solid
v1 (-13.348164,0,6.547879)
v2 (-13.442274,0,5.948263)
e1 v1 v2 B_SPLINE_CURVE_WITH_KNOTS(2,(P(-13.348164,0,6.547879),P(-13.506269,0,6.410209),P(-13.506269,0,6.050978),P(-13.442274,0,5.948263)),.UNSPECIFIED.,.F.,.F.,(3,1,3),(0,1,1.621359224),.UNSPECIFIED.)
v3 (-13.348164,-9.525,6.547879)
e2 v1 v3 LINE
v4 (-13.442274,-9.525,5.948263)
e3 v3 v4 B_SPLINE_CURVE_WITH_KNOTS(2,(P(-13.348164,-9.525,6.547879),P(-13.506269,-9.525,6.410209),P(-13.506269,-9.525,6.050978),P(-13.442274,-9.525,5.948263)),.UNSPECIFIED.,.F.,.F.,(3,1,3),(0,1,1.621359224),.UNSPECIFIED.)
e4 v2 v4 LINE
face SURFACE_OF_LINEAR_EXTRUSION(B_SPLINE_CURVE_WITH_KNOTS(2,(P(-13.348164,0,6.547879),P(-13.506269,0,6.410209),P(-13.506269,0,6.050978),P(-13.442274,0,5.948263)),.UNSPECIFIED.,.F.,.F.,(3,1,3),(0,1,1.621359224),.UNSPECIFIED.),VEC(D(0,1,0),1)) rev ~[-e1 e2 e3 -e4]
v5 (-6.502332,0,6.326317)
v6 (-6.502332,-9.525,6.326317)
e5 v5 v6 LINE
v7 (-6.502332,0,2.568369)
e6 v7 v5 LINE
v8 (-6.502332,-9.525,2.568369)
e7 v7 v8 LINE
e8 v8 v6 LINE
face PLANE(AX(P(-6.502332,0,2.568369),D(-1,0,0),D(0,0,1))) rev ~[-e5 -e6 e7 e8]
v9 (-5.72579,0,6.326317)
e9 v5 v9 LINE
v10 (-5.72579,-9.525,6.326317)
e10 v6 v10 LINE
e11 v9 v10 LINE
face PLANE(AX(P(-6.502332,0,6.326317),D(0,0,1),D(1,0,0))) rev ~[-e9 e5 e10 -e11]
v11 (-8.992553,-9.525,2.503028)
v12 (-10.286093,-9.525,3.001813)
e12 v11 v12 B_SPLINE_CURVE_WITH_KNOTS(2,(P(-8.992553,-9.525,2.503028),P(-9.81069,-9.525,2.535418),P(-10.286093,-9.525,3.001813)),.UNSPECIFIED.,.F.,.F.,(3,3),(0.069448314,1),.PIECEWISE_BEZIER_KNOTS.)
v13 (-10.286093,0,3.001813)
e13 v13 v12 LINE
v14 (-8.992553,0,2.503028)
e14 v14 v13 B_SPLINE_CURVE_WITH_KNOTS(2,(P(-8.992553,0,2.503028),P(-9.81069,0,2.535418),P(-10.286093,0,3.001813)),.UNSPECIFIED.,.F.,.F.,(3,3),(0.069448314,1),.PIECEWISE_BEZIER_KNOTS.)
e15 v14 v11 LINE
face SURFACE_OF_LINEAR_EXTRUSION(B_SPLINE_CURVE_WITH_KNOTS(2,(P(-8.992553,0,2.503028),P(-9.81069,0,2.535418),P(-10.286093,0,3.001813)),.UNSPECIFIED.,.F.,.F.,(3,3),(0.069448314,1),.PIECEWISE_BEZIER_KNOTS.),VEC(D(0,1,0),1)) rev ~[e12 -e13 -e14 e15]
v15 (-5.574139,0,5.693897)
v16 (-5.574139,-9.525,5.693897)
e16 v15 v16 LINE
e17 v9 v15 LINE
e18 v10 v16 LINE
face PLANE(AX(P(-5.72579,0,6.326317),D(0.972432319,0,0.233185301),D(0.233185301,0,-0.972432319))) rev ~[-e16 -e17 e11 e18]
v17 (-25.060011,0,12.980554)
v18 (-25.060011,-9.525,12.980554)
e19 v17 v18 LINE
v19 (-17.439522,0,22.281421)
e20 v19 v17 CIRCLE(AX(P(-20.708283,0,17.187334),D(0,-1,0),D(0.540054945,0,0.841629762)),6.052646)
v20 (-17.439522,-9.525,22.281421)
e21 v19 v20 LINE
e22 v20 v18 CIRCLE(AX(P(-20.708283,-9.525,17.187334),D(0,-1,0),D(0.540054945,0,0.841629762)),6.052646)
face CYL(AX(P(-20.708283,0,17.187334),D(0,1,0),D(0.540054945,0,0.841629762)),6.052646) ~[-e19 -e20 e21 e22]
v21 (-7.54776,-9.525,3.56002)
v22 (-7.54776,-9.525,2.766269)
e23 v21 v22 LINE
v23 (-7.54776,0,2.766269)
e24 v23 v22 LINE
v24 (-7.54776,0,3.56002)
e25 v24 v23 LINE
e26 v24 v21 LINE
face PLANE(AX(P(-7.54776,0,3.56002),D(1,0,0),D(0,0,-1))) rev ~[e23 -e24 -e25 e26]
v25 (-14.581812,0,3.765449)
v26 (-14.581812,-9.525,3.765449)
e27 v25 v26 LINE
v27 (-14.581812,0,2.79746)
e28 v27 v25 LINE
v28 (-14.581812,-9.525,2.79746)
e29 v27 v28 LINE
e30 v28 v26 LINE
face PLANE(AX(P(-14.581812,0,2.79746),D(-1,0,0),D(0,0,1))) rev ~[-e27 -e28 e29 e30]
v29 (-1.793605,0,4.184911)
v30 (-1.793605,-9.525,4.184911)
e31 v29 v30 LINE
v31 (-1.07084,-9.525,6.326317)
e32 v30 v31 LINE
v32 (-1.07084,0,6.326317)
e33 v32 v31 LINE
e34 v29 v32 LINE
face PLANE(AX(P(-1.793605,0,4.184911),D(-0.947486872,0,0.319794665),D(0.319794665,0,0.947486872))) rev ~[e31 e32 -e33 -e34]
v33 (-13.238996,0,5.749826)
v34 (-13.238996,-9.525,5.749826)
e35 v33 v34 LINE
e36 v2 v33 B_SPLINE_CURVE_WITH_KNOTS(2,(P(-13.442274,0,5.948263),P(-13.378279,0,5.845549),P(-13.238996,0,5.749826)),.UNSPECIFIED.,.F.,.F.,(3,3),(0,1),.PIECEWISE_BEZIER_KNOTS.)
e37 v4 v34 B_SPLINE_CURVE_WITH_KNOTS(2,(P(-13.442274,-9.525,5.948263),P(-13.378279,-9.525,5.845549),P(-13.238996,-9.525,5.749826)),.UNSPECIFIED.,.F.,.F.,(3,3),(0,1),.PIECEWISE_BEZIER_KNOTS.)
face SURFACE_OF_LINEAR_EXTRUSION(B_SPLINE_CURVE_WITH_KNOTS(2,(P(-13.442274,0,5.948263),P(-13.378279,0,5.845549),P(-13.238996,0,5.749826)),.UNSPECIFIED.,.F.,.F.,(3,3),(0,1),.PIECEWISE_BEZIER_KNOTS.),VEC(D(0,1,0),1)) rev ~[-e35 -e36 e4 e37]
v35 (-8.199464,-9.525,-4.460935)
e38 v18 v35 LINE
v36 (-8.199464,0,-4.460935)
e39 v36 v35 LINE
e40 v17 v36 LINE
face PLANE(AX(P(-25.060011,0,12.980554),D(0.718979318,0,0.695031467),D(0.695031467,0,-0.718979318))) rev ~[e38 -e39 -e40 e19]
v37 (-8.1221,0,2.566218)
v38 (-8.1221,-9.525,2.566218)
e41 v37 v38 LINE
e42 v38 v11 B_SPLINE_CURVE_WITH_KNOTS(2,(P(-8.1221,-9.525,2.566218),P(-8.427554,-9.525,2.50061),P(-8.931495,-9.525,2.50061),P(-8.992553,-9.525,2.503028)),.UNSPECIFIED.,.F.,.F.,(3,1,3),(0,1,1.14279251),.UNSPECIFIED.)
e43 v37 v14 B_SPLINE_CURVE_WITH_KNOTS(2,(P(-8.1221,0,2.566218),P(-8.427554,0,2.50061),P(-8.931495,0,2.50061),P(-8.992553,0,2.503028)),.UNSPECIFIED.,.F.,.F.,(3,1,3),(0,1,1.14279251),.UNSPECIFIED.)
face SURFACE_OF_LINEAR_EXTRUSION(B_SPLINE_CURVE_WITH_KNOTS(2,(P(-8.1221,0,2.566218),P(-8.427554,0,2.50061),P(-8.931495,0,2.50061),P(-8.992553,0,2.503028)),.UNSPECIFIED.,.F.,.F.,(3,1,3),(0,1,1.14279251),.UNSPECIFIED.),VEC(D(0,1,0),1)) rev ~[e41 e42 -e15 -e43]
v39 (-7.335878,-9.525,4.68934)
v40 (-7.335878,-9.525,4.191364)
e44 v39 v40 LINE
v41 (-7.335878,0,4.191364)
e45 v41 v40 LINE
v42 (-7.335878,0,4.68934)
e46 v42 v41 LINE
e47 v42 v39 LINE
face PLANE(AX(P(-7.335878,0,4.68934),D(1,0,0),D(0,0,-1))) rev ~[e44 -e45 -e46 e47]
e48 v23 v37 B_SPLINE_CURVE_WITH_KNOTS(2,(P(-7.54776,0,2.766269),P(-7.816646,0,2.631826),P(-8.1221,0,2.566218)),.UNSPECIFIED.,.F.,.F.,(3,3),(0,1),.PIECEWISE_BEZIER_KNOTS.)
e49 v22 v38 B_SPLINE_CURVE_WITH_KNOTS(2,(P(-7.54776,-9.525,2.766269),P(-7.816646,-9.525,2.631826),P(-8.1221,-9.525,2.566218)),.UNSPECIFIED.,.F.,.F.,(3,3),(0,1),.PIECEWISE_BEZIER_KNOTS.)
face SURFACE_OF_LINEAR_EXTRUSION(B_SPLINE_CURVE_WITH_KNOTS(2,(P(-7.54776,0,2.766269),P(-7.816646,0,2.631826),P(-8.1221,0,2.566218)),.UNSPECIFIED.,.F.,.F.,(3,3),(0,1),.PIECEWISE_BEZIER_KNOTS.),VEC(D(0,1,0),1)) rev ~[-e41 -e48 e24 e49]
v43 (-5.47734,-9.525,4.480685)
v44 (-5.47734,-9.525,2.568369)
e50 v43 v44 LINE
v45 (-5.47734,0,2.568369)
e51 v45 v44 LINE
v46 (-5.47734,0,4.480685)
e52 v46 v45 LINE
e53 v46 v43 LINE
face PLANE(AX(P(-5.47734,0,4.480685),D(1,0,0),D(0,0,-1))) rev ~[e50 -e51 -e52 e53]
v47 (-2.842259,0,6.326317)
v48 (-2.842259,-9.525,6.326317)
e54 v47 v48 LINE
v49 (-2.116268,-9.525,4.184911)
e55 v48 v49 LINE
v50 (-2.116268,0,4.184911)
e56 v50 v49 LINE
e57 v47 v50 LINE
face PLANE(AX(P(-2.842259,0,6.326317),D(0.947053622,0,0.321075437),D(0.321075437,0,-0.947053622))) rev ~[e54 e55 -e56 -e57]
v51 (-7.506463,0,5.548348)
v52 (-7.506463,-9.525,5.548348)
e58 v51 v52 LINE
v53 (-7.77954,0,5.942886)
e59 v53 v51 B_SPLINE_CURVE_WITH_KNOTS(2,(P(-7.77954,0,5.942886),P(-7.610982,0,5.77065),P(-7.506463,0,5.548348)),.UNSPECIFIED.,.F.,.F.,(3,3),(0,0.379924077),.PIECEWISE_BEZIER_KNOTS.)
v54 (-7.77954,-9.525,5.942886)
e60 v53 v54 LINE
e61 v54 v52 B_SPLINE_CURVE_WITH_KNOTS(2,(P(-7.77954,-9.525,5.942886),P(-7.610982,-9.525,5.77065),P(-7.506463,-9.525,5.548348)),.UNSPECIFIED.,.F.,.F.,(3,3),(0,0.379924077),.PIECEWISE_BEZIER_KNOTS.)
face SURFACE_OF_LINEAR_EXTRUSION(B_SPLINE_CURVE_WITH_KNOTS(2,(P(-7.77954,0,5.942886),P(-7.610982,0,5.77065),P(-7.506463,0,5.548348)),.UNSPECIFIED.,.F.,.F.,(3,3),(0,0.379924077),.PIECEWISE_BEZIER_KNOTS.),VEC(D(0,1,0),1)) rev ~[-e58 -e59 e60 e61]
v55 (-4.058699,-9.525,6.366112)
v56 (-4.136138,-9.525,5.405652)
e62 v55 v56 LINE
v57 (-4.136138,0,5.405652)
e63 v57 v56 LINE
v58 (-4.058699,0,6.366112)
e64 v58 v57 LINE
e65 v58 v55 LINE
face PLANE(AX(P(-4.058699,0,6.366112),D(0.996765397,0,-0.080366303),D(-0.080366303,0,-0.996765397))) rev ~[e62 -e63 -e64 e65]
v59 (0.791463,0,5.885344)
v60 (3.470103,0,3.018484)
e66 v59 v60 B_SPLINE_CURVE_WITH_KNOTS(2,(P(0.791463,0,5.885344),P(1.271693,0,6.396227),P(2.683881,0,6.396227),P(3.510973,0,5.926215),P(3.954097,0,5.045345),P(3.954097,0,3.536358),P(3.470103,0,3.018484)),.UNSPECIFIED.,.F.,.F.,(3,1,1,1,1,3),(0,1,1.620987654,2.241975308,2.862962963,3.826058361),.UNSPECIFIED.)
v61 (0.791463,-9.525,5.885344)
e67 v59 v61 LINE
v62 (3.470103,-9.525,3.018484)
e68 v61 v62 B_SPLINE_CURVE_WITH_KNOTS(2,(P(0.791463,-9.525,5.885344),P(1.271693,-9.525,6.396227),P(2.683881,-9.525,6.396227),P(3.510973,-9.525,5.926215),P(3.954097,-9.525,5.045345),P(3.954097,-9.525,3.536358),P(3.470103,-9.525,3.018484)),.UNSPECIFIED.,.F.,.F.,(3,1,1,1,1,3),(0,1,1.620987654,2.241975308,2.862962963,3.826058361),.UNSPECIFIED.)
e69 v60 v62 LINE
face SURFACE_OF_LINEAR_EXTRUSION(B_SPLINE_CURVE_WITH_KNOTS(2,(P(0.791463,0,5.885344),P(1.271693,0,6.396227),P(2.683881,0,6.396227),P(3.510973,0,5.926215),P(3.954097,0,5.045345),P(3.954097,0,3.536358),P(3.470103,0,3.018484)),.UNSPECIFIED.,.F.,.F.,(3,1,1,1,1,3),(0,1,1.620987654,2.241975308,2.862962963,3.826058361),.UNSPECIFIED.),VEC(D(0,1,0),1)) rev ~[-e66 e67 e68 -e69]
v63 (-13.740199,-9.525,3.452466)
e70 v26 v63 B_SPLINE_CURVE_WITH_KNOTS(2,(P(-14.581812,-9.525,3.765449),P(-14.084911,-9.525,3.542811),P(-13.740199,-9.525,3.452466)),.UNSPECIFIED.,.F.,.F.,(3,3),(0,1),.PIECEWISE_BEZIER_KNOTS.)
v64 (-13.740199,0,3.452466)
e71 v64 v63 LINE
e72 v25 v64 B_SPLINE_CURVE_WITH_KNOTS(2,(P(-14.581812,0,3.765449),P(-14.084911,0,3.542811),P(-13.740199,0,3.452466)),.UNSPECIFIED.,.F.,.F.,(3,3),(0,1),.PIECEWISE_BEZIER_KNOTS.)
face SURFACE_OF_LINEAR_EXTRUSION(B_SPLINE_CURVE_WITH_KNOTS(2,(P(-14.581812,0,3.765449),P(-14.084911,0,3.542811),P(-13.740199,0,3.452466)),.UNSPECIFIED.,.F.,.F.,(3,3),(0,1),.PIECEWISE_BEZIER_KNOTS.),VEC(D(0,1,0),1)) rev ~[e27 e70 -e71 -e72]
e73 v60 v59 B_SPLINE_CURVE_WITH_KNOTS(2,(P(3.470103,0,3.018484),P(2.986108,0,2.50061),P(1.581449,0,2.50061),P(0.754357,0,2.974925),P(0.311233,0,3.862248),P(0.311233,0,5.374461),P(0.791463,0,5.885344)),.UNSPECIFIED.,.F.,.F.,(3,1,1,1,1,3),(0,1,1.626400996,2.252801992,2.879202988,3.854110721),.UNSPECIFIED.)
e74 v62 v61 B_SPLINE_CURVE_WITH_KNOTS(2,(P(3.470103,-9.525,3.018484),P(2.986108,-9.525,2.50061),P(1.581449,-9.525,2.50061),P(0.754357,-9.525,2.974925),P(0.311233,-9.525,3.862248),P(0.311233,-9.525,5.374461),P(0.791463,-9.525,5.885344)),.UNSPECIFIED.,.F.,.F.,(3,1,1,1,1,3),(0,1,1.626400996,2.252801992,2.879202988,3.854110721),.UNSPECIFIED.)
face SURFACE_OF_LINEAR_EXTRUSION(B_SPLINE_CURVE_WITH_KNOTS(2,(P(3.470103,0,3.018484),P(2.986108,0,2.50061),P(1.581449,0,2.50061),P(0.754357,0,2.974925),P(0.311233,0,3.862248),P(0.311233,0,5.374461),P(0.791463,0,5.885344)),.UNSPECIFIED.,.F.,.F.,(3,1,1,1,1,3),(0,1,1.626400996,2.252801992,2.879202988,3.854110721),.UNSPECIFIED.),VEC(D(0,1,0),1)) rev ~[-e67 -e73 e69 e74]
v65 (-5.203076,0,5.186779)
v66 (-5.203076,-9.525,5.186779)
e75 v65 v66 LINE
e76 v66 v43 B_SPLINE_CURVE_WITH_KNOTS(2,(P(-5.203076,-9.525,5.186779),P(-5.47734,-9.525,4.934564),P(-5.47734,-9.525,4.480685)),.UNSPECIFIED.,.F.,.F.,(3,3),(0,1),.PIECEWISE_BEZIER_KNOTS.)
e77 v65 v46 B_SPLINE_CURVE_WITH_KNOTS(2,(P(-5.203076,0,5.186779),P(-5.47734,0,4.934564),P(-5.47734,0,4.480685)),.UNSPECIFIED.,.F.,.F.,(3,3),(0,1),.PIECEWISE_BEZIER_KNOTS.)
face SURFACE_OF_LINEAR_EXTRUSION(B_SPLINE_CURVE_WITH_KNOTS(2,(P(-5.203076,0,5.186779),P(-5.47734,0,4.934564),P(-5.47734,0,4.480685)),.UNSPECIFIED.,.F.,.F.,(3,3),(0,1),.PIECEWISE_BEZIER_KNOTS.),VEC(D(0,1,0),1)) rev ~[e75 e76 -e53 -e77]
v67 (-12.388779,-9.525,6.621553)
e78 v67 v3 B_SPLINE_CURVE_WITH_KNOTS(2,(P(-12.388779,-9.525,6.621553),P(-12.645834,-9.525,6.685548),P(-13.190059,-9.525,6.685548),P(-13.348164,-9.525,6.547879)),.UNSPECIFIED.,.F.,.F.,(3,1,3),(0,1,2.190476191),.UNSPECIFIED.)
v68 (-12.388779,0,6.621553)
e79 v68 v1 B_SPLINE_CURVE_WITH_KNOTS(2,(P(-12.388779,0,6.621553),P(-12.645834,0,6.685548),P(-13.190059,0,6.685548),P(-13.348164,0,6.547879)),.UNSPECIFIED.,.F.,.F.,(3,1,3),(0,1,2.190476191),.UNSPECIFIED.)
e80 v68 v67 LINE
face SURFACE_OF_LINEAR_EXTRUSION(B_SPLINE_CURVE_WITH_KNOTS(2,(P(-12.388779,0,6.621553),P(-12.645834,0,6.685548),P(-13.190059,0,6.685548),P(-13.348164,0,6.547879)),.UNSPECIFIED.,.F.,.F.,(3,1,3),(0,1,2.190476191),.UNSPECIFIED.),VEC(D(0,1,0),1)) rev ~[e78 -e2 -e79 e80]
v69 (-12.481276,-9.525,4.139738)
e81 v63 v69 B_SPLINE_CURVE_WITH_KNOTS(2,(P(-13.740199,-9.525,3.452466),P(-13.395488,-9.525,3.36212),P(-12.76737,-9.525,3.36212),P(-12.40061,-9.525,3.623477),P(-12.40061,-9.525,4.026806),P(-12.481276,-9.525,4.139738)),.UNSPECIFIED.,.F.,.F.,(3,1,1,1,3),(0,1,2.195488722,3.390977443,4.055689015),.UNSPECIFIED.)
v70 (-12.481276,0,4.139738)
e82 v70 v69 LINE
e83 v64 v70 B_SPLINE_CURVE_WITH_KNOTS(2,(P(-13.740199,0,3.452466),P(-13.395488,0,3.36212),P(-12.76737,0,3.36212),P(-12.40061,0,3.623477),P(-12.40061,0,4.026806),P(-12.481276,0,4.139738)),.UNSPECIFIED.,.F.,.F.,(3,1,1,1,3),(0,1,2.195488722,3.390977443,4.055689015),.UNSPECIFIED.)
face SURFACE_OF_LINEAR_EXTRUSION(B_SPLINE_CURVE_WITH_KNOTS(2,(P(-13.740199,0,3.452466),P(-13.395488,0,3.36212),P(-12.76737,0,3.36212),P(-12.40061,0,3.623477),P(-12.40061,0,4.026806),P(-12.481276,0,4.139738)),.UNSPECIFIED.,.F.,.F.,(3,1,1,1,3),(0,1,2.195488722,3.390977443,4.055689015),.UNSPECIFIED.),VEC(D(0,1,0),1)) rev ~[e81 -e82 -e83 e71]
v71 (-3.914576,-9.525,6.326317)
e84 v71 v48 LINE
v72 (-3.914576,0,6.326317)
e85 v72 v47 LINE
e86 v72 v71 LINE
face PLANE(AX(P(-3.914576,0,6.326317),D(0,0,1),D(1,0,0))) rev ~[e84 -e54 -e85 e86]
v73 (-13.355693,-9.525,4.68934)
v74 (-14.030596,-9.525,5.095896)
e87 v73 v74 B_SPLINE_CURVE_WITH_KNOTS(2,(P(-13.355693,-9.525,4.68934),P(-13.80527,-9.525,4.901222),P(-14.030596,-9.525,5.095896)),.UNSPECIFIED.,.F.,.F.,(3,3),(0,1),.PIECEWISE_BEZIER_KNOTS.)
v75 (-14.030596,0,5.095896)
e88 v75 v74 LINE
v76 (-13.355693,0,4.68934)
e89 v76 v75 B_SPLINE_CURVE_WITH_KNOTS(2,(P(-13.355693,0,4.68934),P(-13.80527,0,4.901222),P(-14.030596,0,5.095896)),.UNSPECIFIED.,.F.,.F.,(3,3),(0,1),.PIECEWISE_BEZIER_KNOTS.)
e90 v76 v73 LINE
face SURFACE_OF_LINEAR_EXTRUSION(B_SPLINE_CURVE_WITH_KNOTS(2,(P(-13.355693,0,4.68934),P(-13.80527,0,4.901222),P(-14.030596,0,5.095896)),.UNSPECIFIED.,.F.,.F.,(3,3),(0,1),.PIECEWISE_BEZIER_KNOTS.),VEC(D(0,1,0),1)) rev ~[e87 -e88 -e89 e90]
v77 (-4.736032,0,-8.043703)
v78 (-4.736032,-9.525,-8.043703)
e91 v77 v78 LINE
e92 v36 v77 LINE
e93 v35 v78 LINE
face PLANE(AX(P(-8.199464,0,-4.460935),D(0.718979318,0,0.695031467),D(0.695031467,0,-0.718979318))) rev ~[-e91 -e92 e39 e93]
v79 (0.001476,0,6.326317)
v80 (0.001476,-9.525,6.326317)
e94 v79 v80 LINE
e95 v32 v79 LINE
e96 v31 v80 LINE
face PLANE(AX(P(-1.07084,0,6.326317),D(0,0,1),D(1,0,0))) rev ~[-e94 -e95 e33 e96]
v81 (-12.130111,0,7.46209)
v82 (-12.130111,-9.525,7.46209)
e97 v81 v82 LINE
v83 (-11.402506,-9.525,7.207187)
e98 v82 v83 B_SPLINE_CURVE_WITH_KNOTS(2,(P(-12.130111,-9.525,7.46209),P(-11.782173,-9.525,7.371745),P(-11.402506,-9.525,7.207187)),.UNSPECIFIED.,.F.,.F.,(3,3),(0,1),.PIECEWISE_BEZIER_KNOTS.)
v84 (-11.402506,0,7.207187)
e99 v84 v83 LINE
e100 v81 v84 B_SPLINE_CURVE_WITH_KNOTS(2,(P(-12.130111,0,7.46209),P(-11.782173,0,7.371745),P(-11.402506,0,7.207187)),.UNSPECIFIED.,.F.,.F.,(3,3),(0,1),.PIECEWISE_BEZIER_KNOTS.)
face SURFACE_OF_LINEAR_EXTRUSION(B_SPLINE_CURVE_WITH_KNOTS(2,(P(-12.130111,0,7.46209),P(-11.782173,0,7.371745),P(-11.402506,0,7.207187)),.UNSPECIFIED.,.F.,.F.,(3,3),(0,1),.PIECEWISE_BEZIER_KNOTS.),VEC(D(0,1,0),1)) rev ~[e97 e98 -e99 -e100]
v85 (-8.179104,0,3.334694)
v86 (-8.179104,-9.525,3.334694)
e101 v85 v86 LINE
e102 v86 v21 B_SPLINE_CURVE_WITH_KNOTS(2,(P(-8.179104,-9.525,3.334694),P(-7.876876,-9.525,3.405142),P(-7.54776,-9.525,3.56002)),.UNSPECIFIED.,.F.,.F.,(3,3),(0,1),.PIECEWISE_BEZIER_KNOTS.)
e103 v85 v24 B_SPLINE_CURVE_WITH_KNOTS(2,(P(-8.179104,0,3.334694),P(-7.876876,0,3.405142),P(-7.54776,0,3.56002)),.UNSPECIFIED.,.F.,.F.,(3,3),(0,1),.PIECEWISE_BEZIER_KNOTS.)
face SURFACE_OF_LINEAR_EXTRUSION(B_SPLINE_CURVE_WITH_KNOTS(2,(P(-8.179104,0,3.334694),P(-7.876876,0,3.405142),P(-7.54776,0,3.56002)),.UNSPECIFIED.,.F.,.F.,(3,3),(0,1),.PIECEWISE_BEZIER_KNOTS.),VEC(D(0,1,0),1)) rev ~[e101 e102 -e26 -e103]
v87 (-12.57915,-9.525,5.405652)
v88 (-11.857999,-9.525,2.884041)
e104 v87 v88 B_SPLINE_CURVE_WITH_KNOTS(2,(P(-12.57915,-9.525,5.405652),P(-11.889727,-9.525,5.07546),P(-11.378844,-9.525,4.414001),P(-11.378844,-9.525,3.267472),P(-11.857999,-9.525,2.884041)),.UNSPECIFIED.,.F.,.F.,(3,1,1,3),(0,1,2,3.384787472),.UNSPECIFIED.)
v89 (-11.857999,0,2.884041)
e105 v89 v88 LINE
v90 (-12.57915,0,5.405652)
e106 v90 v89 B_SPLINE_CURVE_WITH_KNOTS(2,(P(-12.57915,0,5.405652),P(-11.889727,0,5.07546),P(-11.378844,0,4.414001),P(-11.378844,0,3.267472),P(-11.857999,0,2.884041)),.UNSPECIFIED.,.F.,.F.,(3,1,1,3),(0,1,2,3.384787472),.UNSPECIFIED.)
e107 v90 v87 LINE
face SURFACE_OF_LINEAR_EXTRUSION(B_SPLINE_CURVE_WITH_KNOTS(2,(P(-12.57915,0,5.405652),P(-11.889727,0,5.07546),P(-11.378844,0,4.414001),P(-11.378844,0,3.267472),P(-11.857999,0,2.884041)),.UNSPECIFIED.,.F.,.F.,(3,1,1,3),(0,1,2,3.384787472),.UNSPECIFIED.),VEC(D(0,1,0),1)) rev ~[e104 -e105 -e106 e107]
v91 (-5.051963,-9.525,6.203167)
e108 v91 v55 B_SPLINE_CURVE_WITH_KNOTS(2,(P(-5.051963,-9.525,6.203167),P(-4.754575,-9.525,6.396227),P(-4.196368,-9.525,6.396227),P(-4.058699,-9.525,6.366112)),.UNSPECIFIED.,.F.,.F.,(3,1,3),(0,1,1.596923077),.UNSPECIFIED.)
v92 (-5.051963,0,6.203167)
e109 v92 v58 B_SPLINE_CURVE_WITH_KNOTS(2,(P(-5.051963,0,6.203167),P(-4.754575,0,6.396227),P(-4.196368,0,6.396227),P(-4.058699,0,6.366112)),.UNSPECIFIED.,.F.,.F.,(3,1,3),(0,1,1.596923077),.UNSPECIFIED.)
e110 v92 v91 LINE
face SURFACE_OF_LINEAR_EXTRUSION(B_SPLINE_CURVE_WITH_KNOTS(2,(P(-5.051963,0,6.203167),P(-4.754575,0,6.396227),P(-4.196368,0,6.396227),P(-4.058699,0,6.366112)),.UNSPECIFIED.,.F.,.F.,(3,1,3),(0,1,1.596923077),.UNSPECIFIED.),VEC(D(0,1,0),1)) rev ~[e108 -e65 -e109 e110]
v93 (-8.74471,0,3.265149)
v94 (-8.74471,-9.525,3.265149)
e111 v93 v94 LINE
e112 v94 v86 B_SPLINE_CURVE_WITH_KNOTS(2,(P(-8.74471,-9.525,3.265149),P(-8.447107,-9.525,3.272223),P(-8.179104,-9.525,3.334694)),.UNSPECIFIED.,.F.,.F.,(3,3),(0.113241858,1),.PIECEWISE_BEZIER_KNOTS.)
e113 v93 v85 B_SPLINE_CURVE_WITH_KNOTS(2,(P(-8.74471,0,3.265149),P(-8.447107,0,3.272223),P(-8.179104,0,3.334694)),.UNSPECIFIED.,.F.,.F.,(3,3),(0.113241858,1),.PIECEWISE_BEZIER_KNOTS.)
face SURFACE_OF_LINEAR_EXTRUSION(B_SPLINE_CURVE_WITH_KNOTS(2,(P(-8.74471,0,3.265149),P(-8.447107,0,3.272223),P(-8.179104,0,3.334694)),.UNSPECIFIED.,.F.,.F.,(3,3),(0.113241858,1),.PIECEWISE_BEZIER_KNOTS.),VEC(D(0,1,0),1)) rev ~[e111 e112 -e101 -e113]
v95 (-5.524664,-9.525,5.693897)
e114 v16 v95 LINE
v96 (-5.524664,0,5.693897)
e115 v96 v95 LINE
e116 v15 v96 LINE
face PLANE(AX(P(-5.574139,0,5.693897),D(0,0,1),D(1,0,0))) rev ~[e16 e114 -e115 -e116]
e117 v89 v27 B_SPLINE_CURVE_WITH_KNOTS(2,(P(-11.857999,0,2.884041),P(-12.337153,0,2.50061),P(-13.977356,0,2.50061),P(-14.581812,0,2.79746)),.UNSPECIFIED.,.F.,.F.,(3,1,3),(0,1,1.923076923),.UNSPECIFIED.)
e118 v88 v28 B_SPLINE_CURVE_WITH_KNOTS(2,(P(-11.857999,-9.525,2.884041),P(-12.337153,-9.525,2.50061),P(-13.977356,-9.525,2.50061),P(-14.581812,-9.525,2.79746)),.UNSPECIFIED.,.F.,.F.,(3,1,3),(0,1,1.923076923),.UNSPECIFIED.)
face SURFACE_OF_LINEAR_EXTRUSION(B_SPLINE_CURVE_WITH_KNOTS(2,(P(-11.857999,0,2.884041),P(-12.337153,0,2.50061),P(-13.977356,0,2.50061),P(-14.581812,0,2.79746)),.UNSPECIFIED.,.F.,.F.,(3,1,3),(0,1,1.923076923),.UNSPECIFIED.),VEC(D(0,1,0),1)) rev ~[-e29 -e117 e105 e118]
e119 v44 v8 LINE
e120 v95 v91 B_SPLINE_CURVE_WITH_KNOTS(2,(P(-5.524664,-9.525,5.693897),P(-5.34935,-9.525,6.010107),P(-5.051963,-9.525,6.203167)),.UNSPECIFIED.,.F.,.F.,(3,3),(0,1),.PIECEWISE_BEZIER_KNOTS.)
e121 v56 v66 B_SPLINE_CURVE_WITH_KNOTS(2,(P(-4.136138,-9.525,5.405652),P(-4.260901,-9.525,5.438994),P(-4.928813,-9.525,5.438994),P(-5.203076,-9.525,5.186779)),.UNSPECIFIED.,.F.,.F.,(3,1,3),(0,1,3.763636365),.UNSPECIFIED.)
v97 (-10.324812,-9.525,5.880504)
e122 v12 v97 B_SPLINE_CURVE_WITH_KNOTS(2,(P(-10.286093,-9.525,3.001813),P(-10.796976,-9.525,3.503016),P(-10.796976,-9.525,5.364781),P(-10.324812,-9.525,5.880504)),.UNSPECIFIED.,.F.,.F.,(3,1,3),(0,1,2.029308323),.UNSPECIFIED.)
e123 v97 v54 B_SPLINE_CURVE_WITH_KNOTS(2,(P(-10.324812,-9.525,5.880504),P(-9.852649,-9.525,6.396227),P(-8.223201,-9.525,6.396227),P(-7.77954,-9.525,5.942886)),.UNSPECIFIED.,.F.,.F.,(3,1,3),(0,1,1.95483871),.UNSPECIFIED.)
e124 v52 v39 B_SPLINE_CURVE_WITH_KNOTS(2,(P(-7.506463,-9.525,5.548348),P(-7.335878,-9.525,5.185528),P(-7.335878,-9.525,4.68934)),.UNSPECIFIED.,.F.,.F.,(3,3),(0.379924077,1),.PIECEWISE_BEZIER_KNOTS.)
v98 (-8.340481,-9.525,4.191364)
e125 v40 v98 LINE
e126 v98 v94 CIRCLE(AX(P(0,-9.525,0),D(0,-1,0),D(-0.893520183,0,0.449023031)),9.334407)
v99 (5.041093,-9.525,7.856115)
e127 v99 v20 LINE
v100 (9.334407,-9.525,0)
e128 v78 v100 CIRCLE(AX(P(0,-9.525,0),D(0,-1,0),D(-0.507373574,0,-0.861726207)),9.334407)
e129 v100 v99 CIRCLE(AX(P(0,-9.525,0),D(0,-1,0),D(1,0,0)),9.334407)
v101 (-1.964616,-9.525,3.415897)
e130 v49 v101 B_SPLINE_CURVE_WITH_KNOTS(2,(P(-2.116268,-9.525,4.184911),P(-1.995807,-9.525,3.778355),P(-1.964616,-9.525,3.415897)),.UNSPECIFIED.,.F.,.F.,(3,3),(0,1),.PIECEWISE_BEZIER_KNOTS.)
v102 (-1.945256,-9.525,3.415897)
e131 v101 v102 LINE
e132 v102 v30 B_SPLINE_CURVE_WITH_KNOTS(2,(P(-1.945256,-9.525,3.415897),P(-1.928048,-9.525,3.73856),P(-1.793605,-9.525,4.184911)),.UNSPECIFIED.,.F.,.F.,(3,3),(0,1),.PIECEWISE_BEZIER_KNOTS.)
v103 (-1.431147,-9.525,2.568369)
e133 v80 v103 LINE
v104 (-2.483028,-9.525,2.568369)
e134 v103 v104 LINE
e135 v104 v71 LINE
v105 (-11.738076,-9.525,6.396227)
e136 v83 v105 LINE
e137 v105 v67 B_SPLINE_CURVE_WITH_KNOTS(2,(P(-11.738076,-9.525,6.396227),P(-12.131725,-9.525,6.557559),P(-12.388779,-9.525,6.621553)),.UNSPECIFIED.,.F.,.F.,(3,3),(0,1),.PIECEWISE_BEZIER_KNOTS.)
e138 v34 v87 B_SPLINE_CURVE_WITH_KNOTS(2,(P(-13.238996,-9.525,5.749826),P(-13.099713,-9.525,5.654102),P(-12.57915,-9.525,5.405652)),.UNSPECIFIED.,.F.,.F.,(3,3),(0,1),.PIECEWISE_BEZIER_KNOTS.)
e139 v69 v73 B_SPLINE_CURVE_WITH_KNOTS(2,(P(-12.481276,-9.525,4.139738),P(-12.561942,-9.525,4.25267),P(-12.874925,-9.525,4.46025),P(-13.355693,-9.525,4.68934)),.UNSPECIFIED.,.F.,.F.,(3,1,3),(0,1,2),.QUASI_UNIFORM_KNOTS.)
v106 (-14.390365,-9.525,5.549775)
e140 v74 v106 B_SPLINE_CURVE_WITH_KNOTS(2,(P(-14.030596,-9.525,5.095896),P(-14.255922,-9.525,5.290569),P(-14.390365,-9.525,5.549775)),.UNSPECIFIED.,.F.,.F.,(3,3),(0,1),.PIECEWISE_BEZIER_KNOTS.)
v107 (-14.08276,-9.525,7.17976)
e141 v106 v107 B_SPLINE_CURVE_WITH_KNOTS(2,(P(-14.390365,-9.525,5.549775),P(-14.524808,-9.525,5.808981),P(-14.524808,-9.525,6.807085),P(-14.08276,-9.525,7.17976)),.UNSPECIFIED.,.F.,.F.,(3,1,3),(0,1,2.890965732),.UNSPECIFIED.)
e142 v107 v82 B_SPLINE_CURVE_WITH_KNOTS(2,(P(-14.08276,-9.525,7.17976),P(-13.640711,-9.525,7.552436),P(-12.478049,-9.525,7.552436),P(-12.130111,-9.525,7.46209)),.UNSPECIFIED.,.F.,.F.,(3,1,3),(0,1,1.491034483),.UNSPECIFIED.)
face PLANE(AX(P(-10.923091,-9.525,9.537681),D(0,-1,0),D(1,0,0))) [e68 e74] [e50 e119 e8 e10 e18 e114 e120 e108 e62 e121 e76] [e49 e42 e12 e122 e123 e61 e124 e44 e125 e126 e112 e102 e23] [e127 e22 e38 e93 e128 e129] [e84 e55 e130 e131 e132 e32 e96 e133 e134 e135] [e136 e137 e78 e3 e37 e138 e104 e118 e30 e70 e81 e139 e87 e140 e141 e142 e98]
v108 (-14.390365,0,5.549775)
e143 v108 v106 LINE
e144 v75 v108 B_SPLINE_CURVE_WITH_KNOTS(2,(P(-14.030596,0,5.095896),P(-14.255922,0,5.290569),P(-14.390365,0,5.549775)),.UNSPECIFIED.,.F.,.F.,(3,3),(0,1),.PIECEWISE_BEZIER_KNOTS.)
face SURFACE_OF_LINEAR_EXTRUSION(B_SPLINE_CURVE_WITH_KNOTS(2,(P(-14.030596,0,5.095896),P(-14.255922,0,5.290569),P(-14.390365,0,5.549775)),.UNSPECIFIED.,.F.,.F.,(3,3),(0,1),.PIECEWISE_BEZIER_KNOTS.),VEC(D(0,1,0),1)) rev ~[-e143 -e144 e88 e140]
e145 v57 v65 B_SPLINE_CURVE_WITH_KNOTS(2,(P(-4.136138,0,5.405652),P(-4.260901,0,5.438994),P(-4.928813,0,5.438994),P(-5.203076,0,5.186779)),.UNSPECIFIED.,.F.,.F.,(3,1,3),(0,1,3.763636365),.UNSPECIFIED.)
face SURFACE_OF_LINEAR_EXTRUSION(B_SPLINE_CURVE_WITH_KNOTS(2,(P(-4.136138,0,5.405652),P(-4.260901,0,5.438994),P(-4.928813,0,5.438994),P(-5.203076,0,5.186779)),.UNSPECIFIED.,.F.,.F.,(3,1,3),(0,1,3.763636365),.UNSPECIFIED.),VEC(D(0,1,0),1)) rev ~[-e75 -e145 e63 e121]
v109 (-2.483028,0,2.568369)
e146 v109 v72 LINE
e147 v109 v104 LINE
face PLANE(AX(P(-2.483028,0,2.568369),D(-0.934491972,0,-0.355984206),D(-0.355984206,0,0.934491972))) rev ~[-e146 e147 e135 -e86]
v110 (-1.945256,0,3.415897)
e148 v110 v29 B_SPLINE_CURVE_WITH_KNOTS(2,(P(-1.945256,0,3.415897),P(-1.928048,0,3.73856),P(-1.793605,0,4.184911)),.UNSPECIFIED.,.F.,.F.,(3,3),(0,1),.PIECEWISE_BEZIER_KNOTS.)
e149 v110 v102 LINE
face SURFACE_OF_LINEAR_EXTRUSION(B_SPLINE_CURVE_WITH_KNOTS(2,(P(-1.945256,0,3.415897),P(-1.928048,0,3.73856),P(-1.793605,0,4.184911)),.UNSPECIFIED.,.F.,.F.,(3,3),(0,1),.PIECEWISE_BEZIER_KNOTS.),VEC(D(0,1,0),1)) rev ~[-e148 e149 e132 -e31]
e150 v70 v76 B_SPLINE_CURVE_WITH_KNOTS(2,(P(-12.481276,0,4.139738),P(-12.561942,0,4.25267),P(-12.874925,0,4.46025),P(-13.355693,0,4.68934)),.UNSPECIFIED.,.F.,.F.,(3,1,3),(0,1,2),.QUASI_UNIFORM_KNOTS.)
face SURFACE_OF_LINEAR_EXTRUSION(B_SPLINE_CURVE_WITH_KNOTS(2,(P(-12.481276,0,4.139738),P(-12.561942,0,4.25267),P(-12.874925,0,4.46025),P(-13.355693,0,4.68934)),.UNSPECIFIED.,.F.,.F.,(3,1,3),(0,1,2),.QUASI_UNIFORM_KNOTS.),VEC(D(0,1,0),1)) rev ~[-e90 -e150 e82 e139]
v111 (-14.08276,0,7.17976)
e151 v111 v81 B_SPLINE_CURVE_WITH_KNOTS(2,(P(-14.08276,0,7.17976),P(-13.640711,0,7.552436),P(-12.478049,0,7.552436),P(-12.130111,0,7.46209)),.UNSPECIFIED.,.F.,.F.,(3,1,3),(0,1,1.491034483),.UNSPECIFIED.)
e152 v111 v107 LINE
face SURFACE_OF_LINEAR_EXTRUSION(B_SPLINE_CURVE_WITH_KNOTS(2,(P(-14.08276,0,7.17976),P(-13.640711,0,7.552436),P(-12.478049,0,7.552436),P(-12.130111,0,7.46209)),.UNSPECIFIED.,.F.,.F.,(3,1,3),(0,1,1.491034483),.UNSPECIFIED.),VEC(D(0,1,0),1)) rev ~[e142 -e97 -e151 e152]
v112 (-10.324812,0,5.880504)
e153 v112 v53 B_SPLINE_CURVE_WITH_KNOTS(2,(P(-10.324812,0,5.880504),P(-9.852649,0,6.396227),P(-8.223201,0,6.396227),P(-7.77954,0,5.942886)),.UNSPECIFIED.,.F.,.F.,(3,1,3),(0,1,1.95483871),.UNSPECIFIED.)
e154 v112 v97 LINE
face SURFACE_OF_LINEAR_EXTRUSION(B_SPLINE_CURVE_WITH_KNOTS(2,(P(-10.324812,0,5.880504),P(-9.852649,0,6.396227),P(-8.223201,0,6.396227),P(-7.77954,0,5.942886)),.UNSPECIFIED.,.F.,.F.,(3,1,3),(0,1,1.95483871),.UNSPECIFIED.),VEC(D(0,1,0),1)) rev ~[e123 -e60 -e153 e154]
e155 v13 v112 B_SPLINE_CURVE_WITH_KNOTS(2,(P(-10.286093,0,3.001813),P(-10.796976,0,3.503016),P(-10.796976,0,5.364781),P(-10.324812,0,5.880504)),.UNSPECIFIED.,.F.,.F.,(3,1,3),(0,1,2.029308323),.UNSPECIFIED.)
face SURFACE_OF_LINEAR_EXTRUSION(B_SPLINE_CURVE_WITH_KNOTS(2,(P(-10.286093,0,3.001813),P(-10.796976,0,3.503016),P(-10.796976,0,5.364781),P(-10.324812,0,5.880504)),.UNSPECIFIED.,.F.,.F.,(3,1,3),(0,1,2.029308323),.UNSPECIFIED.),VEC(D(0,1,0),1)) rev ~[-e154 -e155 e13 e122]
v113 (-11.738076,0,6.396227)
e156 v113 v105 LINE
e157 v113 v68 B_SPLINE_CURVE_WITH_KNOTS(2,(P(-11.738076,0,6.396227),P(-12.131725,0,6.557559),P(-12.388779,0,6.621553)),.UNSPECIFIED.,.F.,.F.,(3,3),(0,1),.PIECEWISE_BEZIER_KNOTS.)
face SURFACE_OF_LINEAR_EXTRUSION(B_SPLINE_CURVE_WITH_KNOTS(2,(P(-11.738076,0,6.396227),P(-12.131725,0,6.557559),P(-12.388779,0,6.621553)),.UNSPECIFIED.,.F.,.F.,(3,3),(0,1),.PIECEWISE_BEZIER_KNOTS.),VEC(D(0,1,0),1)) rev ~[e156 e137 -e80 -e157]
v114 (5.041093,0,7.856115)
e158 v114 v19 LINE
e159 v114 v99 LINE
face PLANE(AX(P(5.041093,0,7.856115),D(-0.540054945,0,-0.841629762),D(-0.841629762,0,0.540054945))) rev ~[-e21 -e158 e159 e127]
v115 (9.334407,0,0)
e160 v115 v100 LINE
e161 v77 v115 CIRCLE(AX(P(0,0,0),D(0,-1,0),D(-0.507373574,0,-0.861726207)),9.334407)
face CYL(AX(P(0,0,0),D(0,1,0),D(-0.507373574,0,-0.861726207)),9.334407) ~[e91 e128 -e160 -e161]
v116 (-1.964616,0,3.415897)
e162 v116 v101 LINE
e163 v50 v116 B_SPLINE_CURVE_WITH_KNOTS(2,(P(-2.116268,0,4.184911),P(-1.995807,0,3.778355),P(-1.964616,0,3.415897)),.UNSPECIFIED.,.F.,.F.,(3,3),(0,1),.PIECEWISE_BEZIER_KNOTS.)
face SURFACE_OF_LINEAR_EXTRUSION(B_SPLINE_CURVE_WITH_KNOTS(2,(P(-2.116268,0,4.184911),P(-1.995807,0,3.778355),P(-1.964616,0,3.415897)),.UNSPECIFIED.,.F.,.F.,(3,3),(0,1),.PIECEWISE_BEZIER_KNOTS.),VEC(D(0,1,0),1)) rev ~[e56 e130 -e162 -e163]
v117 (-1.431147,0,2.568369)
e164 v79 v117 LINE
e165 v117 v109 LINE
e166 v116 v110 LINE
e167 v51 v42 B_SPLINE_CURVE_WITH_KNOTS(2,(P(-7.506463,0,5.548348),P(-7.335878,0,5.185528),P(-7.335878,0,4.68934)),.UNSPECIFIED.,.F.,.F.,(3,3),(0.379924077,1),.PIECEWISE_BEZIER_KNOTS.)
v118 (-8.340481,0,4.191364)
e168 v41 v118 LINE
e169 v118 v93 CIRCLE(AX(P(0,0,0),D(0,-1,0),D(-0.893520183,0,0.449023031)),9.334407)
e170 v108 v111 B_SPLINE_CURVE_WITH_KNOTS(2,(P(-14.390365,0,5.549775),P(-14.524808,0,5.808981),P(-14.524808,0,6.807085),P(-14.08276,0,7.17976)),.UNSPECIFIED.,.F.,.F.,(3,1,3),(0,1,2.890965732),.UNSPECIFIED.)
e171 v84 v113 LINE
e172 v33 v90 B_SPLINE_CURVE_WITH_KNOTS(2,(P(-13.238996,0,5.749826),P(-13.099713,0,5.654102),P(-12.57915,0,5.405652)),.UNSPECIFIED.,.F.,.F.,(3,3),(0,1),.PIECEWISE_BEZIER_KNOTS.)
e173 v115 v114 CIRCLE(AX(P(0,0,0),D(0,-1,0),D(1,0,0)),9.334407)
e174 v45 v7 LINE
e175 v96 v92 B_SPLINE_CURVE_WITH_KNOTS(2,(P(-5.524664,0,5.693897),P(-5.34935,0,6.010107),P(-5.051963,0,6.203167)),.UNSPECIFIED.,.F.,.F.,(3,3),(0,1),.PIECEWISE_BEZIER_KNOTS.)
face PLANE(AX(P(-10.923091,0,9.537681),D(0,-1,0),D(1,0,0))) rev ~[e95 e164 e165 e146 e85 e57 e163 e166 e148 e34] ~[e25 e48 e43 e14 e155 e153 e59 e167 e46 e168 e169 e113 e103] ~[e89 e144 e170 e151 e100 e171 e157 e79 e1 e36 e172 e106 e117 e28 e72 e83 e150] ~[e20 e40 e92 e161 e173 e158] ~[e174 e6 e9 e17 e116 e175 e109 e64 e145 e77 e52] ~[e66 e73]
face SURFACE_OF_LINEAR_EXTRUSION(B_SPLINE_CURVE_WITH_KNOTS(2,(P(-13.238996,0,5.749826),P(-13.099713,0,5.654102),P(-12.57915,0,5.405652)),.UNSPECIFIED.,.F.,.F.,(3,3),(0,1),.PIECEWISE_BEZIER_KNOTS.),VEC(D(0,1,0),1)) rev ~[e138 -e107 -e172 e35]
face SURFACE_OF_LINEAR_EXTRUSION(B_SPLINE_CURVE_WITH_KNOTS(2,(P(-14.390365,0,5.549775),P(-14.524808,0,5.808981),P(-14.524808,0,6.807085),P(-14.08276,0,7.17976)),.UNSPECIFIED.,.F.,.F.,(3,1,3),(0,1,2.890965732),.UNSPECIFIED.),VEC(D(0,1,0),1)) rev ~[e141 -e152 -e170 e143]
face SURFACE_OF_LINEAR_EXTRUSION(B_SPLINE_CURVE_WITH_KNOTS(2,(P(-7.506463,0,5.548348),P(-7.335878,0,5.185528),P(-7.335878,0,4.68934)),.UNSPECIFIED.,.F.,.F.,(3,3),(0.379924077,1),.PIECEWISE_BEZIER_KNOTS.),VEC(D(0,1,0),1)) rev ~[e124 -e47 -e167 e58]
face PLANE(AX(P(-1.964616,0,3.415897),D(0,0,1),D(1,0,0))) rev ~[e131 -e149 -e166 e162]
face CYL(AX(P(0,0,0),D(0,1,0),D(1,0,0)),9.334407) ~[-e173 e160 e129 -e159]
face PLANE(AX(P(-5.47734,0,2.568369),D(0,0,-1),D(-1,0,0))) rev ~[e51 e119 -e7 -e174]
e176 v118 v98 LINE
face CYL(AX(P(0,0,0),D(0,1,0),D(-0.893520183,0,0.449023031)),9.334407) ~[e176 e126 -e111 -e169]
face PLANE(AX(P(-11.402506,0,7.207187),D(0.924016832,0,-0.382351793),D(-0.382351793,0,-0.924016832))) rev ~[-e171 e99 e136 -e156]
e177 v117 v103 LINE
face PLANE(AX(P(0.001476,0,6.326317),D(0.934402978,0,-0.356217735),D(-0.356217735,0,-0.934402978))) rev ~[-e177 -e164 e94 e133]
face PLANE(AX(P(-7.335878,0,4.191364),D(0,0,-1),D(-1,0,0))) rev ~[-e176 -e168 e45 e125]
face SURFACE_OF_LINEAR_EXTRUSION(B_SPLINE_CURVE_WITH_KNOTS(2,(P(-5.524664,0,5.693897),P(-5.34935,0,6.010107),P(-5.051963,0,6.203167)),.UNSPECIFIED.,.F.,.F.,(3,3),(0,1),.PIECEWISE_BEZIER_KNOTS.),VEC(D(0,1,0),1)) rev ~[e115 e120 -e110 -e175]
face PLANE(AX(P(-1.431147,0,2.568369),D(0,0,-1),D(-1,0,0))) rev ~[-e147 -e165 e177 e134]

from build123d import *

# Parameters (mm, degrees)
F1_DEPTH = 9.525


with BuildPart() as f1:
    # F0 (on Front) → F1 (new body)
    with BuildSketch(Plane.XZ):
        with BuildLine():
            ThreePointArc((-7.5064634302, 5.5483481321), (-1.6884786167, 9.1804248368), (5.0410928398, 7.8561150198))
            Line((5.0410928398, 7.8561150198), (-17.4395217917, 22.2814213152))
            ThreePointArc((-17.4395217917, 22.2814213152), (-15.3970130347, 20.0899078742), (-14.655637054, 17.1873340441))
            ThreePointArc((-14.655637054, 17.1873340441), (-18.4394665066, 11.5760064467), (-25.0600108779, 12.9805544023))
            Line((-25.0600108779, 12.9805544023), (-8.1994643326, -4.4609354268))
            ThreePointArc((-8.1994643326, -4.4609354268), (-9.2744575004, -1.0562188677), (-8.9925532114, 2.5030275596))
            add(Edge.make_bspline(
                [(-8.9925532114, 2.5030275596), (-9.810689736, 2.5354179302), (-10.2860927177, 3.0018132764)],
                knots=[0.0694483143, 0.0694483143, 0.0694483143, 1, 1, 1], degree=2))
            add(Edge.make_bspline(
                [(-10.2860927177, 3.0018132764), (-10.7969756583, 3.5030163297), (-10.7969756583, 4.4204545369)],
                knots=[0, 0, 0, 1, 1, 1], degree=2))
            add(Edge.make_bspline(
                [(-10.7969756583, 4.4204545369), (-10.7969756583, 5.3647813198), (-10.3248122669, 5.8805042041)],
                knots=[0, 0, 0, 1, 1, 1], degree=2))
            add(Edge.make_bspline(
                [(-10.3248122669, 5.8805042041), (-9.8526488754, 6.3962270884), (-9.0191030248, 6.3962270884)],
                knots=[0, 0, 0, 1, 1, 1], degree=2))
            add(Edge.make_bspline(
                [(-9.0191030248, 6.3962270884), (-8.2232011804, 6.3962270884), (-7.7795396793, 5.9428857)],
                knots=[0, 0, 0, 1, 1, 1], degree=2))
            add(Edge.make_bspline(
                [(-7.7795396793, 5.9428857), (-7.6109819931, 5.7706503915), (-7.5064634302, 5.5483481321)],
                knots=[0, 0, 0, 0.3799240768, 0.3799240768, 0.3799240768], degree=2))
        make_face()
        with BuildLine():
            add(Edge.make_bspline(
                [(-11.6342859095, 4.7447307613), (-11.3788444392, 4.4140012787), (-11.3788444392, 3.9332335429)],
                knots=[0, 0, 0, 1, 1, 1], degree=2))
            add(Edge.make_bspline(
                [(-11.3788444392, 3.9332335429), (-11.3788444392, 3.2674724055), (-11.8579988603, 2.8840413143)],
                knots=[0, 0, 0, 1, 1, 1], degree=2))
            add(Edge.make_bspline(
                [(-11.8579988603, 2.8840413143), (-12.3371532815, 2.500610223), (-13.1900589067, 2.500610223)],
                knots=[0, 0, 0, 1, 1, 1], degree=2))
            add(Edge.make_bspline(
                [(-13.1900589067, 2.500610223), (-13.9773564068, 2.500610223), (-14.5818115913, 2.7974601001)],
                knots=[0, 0, 0, 1, 1, 1], degree=2))
            Line((-14.5818115913, 2.7974601001), (-14.5818115913, 3.7654488298))
            add(Edge.make_bspline(
                [(-14.5818115913, 3.7654488298), (-14.0849107101, 3.542811422), (-13.740199168, 3.4524658072)],
                knots=[0, 0, 0, 1, 1, 1], degree=2))
            add(Edge.make_bspline(
                [(-13.740199168, 3.4524658072), (-13.395487626, 3.3621201924), (-13.1093931792, 3.3621201924)],
                knots=[0, 0, 0, 1, 1, 1], degree=2))
            add(Edge.make_bspline(
                [(-13.1093931792, 3.3621201924), (-12.7673704947, 3.3621201924), (-12.5839904076, 3.4927986709)],
                knots=[0, 0, 0, 1, 1, 1], degree=2))
            add(Edge.make_bspline(
                [(-12.5839904076, 3.4927986709), (-12.4006103205, 3.6234771494), (-12.4006103205, 3.8826830204)],
                knots=[0, 0, 0, 1, 1, 1], degree=2))
            add(Edge.make_bspline(
                [(-12.4006103205, 3.8826830204), (-12.4006103205, 4.0268057868), (-12.4812760479, 4.1397378053)],
                knots=[0, 0, 0, 1, 1, 1], degree=2))
            add(Edge.make_bspline(
                [(-12.4812760479, 4.1397378053), (-12.5619417754, 4.2526698237), (-12.7184332867, 4.3564597264)],
                knots=[0, 0, 0, 1, 1, 1], degree=2))
            add(Edge.make_bspline(
                [(-12.7184332867, 4.3564597264), (-12.874924798, 4.4602496291), (-13.3556925337, 4.6893402951)],
                knots=[0, 0, 0, 1, 1, 1], degree=2))
            add(Edge.make_bspline(
                [(-13.3556925337, 4.6893402951), (-13.8052695215, 4.9012222726), (-14.0305957869, 5.0958955616)],
                knots=[0, 0, 0, 1, 1, 1], degree=2))
            add(Edge.make_bspline(
                [(-14.0305957869, 5.0958955616), (-14.2559220523, 5.2905688505), (-14.3903649315, 5.5497747215)],
                knots=[0, 0, 0, 1, 1, 1], degree=2))
            add(Edge.make_bspline(
                [(-14.3903649315, 5.5497747215), (-14.5248078106, 5.8089805924), (-14.5248078106, 6.154229906)],
                knots=[0, 0, 0, 1, 1, 1], degree=2))
            add(Edge.make_bspline(
                [(-14.5248078106, 6.154229906), (-14.5248078106, 6.807084527), (-14.082759624, 7.1797601879)],
                knots=[0, 0, 0, 1, 1, 1], degree=2))
            add(Edge.make_bspline(
                [(-14.082759624, 7.1797601879), (-13.6407114375, 7.5524358489), (-12.8609427386, 7.5524358489)],
                knots=[0, 0, 0, 1, 1, 1], degree=2))
            add(Edge.make_bspline(
                [(-12.8609427386, 7.5524358489), (-12.4780494188, 7.5524358489), (-12.1301112477, 7.4620902341)],
                knots=[0, 0, 0, 1, 1, 1], degree=2))
            add(Edge.make_bspline(
                [(-12.1301112477, 7.4620902341), (-11.7821730765, 7.3717446193), (-11.4025063859, 7.2071865353)],
                knots=[0, 0, 0, 1, 1, 1], degree=2))
            Line((-11.4025063859, 7.2071865353), (-11.7380758122, 6.3962270884))
            add(Edge.make_bspline(
                [(-11.7380758122, 6.3962270884), (-12.1317245622, 6.5575585434), (-12.3887793471, 6.6215533538)],
                knots=[0, 0, 0, 1, 1, 1], degree=2))
            add(Edge.make_bspline(
                [(-12.3887793471, 6.6215533538), (-12.645834132, 6.6855481643), (-12.8942845726, 6.6855481643)],
                knots=[0, 0, 0, 1, 1, 1], degree=2))
            add(Edge.make_bspline(
                [(-12.8942845726, 6.6855481643), (-13.1900589067, 6.6855481643), (-13.3481637325, 6.5478786561)],
                knots=[0, 0, 0, 1, 1, 1], degree=2))
            add(Edge.make_bspline(
                [(-13.3481637325, 6.5478786561), (-13.5062685584, 6.4102091478), (-13.5062685584, 6.1886472831)],
                knots=[0, 0, 0, 1, 1, 1], degree=2))
            add(Edge.make_bspline(
                [(-13.5062685584, 6.1886472831), (-13.5062685584, 6.0509777748), (-13.4422737479, 5.9482634152)],
                knots=[0, 0, 0, 1, 1, 1], degree=2))
            add(Edge.make_bspline(
                [(-13.4422737479, 5.9482634152), (-13.3782789374, 5.8455490555), (-13.2389961147, 5.7498257256)],
                knots=[0, 0, 0, 1, 1, 1], degree=2))
            add(Edge.make_bspline(
                [(-13.2389961147, 5.7498257256), (-13.0997132919, 5.6541023957), (-12.5791504639, 5.4056519551)],
                knots=[0, 0, 0, 1, 1, 1], degree=2))
            add(Edge.make_bspline(
                [(-12.5791504639, 5.4056519551), (-11.8897273798, 5.0754602439), (-11.6342859095, 4.7447307613)],
                knots=[0, 0, 0, 1, 1, 1], degree=2))
        make_face(mode=Mode.SUBTRACT)
        with BuildLine():
            ThreePointArc((-14.655637054, 17.1873340441), (-15.3970130347, 20.0899078742), (-17.4395217917, 22.2814213152))
            ThreePointArc((-17.4395217917, 22.2814213152), (-25.3901350407, 21.0233205124), (-25.0600108779, 12.9805544023))
            ThreePointArc((-25.0600108779, 12.9805544023), (-18.4394665066, 11.5760064467), (-14.655637054, 17.1873340441))
        make_face()
        with BuildLine():
            ThreePointArc((-4.7360316081, -8.0437034276), (4.6326618731, -8.103678436), (9.3344073312, 0))
            ThreePointArc((9.3344073312, 0), (8.19105531, 4.4763571274), (5.0410928398, 7.8561150198))
            ThreePointArc((5.0410928398, 7.8561150198), (-1.6884786167, 9.1804248368), (-7.5064634302, 5.5483481321))
            add(Edge.make_bspline(
                [(-7.5064634302, 5.5483481321), (-7.3358781782, 5.1855275394), (-7.3358781782, 4.6893402951)],
                knots=[0.3799240768, 0.3799240768, 0.3799240768, 1, 1, 1], degree=2))
            Line((-7.3358781782, 4.6893402951), (-7.3358781782, 4.1913638708))
            Line((-7.3358781782, 4.1913638708), (-8.3404813486, 4.1913638708))
            ThreePointArc((-8.3404813486, 4.1913638708), (-8.5551395781, 3.7337309789), (-8.7447104606, 3.2651491826))
            add(Edge.make_bspline(
                [(-8.7447104606, 3.2651491826), (-8.4471066944, 3.2722234466), (-8.1791039161, 3.3346938451)],
                knots=[0.1132418576, 0.1132418576, 0.1132418576, 1, 1, 1], degree=2))
            add(Edge.make_bspline(
                [(-8.1791039161, 3.3346938451), (-7.8768763238, 3.4051419137), (-7.5477601557, 3.5600201105)],
                knots=[0, 0, 0, 1, 1, 1], degree=2))
            Line((-7.5477601557, 3.5600201105), (-7.5477601557, 2.7662693522))
            add(Edge.make_bspline(
                [(-7.5477601557, 2.7662693522), (-7.816645914, 2.631826473), (-8.1221001353, 2.566218348)],
                knots=[0, 0, 0, 1, 1, 1], degree=2))
            add(Edge.make_bspline(
                [(-8.1221001353, 2.566218348), (-8.4275543567, 2.500610223), (-8.8685270002, 2.500610223)],
                knots=[0, 0, 0, 1, 1, 1], degree=2))
            add(Edge.make_bspline(
                [(-8.8685270002, 2.500610223), (-8.9314945906, 2.500610223), (-8.9925532114, 2.5030275596)],
                knots=[0, 0, 0, 0.0694483143, 0.0694483143, 0.0694483143], degree=2))
            ThreePointArc((-8.9925532114, 2.5030275596), (-9.2744575004, -1.0562188677), (-8.1994643326, -4.4609354268))
            Line((-8.1994643326, -4.4609354268), (-4.7360316081, -8.0437034276))
        make_face()
        with BuildLine():
            add(Edge.make_bspline(
                [(-5.0519625477, 6.203167114), (-4.7545748991, 6.3962270884), (-4.4050234134, 6.3962270884)],
                knots=[0, 0, 0, 1, 1, 1], degree=2))
            add(Edge.make_bspline(
                [(-4.4050234134, 6.3962270884), (-4.196368065, 6.3962270884), (-4.0586985568, 6.3661118835)],
                knots=[0, 0, 0, 1, 1, 1], degree=2))
            Line((-4.0586985568, 6.3661118835), (-4.1361376552, 5.4056519551))
            add(Edge.make_bspline(
                [(-4.1361376552, 5.4056519551), (-4.260900647, 5.4389937891), (-4.4383652474, 5.4389937891)],
                knots=[0, 0, 0, 1, 1, 1], degree=2))
            add(Edge.make_bspline(
                [(-4.4383652474, 5.4389937891), (-4.9288128705, 5.4389937891), (-5.2030763439, 5.1867789478)],
                knots=[0, 0, 0, 1, 1, 1], degree=2))
            add(Edge.make_bspline(
                [(-5.2030763439, 5.1867789478), (-5.4773398173, 4.9345641066), (-5.4773398173, 4.4806849467)],
                knots=[0, 0, 0, 1, 1, 1], degree=2))
            Line((-5.4773398173, 4.4806849467), (-5.4773398173, 2.5683694341))
            Line((-5.4773398173, 2.5683694341), (-6.5023323277, 2.5683694341))
            Line((-6.5023323277, 2.5683694341), (-6.5023323277, 6.3263167913))
            Line((-6.5023323277, 6.3263167913), (-5.7257902579, 6.3263167913))
            Line((-5.7257902579, 6.3263167913), (-5.5741386903, 5.6938974879))
            Line((-5.5741386903, 5.6938974879), (-5.5246637107, 5.6938974879))
            add(Edge.make_bspline(
                [(-5.5246637107, 5.6938974879), (-5.3493501964, 6.0101071396), (-5.0519625477, 6.203167114)],
                knots=[0, 0, 0, 1, 1, 1], degree=2))
        make_face(mode=Mode.SUBTRACT)
        with BuildLine():
            Line((-1.4311469273, 2.5683694341), (-2.4830280135, 2.5683694341))
            Line((-2.4830280135, 2.5683694341), (-3.9145757904, 6.3263167913))
            Line((-3.9145757904, 6.3263167913), (-2.8422593865, 6.3263167913))
            Line((-2.8422593865, 6.3263167913), (-2.1162678393, 4.1849106126))
            add(Edge.make_bspline(
                [(-2.1162678393, 4.1849106126), (-1.9958070196, 3.7783553462), (-1.9646162716, 3.4158973441)],
                knots=[0, 0, 0, 1, 1, 1], degree=2))
            Line((-1.9646162716, 3.4158973441), (-1.945256497, 3.4158973441))
            add(Edge.make_bspline(
                [(-1.945256497, 3.4158973441), (-1.9280478085, 3.738560254), (-1.7936049294, 4.1849106126)],
                knots=[0, 0, 0, 1, 1, 1], degree=2))
            Line((-1.7936049294, 4.1849106126), (-1.0708400112, 6.3263167913))
            Line((-1.0708400112, 6.3263167913), (0.0014763926, 6.3263167913))
            Line((0.0014763926, 6.3263167913), (-1.4311469273, 2.5683694341))
        make_face(mode=Mode.SUBTRACT)
        with BuildLine():
            add(Edge.make_bspline(
                [(3.732535174, 5.485779911), (3.9540970388, 5.045345039), (3.9540970388, 4.4537963709)],
                knots=[0, 0, 0, 1, 1, 1], degree=2))
            add(Edge.make_bspline(
                [(3.9540970388, 4.4537963709), (3.9540970388, 3.5363581638), (3.4701026739, 3.0184841934)],
                knots=[0, 0, 0, 1, 1, 1], degree=2))
            add(Edge.make_bspline(
                [(3.4701026739, 3.0184841934), (2.9861083091, 2.500610223), (2.1224472536, 2.500610223)],
                knots=[0, 0, 0, 1, 1, 1], degree=2))
            add(Edge.make_bspline(
                [(2.1224472536, 2.500610223), (1.5814491081, 2.500610223), (1.1679028119, 2.7377674618)],
                knots=[0, 0, 0, 1, 1, 1], degree=2))
            add(Edge.make_bspline(
                [(1.1679028119, 2.7377674618), (0.7543565157, 2.9749247006), (0.5327946509, 3.4185862017)],
                knots=[0, 0, 0, 1, 1, 1], degree=2))
            add(Edge.make_bspline(
                [(0.5327946509, 3.4185862017), (0.3112327861, 3.8622477028), (0.3112327861, 4.4537963709)],
                knots=[0, 0, 0, 1, 1, 1], degree=2))
            add(Edge.make_bspline(
                [(0.3112327861, 4.4537963709), (0.3112327861, 5.3744612071), (0.7914627503, 5.8853441478)],
                knots=[0, 0, 0, 1, 1, 1], degree=2))
            add(Edge.make_bspline(
                [(0.7914627503, 5.8853441478), (1.2716927146, 6.3962270884), (2.1428825713, 6.3962270884)],
                knots=[0, 0, 0, 1, 1, 1], degree=2))
            add(Edge.make_bspline(
                [(2.1428825713, 6.3962270884), (2.6838807168, 6.3962270884), (3.097427013, 6.1612209357)],
                knots=[0, 0, 0, 1, 1, 1], degree=2))
            add(Edge.make_bspline(
                [(3.097427013, 6.1612209357), (3.5109733092, 5.926214783), (3.732535174, 5.485779911)],
                knots=[0, 0, 0, 1, 1, 1], degree=2))
        make_face(mode=Mode.SUBTRACT)
    extrude(amount=F1_DEPTH)


solid = f1.part
